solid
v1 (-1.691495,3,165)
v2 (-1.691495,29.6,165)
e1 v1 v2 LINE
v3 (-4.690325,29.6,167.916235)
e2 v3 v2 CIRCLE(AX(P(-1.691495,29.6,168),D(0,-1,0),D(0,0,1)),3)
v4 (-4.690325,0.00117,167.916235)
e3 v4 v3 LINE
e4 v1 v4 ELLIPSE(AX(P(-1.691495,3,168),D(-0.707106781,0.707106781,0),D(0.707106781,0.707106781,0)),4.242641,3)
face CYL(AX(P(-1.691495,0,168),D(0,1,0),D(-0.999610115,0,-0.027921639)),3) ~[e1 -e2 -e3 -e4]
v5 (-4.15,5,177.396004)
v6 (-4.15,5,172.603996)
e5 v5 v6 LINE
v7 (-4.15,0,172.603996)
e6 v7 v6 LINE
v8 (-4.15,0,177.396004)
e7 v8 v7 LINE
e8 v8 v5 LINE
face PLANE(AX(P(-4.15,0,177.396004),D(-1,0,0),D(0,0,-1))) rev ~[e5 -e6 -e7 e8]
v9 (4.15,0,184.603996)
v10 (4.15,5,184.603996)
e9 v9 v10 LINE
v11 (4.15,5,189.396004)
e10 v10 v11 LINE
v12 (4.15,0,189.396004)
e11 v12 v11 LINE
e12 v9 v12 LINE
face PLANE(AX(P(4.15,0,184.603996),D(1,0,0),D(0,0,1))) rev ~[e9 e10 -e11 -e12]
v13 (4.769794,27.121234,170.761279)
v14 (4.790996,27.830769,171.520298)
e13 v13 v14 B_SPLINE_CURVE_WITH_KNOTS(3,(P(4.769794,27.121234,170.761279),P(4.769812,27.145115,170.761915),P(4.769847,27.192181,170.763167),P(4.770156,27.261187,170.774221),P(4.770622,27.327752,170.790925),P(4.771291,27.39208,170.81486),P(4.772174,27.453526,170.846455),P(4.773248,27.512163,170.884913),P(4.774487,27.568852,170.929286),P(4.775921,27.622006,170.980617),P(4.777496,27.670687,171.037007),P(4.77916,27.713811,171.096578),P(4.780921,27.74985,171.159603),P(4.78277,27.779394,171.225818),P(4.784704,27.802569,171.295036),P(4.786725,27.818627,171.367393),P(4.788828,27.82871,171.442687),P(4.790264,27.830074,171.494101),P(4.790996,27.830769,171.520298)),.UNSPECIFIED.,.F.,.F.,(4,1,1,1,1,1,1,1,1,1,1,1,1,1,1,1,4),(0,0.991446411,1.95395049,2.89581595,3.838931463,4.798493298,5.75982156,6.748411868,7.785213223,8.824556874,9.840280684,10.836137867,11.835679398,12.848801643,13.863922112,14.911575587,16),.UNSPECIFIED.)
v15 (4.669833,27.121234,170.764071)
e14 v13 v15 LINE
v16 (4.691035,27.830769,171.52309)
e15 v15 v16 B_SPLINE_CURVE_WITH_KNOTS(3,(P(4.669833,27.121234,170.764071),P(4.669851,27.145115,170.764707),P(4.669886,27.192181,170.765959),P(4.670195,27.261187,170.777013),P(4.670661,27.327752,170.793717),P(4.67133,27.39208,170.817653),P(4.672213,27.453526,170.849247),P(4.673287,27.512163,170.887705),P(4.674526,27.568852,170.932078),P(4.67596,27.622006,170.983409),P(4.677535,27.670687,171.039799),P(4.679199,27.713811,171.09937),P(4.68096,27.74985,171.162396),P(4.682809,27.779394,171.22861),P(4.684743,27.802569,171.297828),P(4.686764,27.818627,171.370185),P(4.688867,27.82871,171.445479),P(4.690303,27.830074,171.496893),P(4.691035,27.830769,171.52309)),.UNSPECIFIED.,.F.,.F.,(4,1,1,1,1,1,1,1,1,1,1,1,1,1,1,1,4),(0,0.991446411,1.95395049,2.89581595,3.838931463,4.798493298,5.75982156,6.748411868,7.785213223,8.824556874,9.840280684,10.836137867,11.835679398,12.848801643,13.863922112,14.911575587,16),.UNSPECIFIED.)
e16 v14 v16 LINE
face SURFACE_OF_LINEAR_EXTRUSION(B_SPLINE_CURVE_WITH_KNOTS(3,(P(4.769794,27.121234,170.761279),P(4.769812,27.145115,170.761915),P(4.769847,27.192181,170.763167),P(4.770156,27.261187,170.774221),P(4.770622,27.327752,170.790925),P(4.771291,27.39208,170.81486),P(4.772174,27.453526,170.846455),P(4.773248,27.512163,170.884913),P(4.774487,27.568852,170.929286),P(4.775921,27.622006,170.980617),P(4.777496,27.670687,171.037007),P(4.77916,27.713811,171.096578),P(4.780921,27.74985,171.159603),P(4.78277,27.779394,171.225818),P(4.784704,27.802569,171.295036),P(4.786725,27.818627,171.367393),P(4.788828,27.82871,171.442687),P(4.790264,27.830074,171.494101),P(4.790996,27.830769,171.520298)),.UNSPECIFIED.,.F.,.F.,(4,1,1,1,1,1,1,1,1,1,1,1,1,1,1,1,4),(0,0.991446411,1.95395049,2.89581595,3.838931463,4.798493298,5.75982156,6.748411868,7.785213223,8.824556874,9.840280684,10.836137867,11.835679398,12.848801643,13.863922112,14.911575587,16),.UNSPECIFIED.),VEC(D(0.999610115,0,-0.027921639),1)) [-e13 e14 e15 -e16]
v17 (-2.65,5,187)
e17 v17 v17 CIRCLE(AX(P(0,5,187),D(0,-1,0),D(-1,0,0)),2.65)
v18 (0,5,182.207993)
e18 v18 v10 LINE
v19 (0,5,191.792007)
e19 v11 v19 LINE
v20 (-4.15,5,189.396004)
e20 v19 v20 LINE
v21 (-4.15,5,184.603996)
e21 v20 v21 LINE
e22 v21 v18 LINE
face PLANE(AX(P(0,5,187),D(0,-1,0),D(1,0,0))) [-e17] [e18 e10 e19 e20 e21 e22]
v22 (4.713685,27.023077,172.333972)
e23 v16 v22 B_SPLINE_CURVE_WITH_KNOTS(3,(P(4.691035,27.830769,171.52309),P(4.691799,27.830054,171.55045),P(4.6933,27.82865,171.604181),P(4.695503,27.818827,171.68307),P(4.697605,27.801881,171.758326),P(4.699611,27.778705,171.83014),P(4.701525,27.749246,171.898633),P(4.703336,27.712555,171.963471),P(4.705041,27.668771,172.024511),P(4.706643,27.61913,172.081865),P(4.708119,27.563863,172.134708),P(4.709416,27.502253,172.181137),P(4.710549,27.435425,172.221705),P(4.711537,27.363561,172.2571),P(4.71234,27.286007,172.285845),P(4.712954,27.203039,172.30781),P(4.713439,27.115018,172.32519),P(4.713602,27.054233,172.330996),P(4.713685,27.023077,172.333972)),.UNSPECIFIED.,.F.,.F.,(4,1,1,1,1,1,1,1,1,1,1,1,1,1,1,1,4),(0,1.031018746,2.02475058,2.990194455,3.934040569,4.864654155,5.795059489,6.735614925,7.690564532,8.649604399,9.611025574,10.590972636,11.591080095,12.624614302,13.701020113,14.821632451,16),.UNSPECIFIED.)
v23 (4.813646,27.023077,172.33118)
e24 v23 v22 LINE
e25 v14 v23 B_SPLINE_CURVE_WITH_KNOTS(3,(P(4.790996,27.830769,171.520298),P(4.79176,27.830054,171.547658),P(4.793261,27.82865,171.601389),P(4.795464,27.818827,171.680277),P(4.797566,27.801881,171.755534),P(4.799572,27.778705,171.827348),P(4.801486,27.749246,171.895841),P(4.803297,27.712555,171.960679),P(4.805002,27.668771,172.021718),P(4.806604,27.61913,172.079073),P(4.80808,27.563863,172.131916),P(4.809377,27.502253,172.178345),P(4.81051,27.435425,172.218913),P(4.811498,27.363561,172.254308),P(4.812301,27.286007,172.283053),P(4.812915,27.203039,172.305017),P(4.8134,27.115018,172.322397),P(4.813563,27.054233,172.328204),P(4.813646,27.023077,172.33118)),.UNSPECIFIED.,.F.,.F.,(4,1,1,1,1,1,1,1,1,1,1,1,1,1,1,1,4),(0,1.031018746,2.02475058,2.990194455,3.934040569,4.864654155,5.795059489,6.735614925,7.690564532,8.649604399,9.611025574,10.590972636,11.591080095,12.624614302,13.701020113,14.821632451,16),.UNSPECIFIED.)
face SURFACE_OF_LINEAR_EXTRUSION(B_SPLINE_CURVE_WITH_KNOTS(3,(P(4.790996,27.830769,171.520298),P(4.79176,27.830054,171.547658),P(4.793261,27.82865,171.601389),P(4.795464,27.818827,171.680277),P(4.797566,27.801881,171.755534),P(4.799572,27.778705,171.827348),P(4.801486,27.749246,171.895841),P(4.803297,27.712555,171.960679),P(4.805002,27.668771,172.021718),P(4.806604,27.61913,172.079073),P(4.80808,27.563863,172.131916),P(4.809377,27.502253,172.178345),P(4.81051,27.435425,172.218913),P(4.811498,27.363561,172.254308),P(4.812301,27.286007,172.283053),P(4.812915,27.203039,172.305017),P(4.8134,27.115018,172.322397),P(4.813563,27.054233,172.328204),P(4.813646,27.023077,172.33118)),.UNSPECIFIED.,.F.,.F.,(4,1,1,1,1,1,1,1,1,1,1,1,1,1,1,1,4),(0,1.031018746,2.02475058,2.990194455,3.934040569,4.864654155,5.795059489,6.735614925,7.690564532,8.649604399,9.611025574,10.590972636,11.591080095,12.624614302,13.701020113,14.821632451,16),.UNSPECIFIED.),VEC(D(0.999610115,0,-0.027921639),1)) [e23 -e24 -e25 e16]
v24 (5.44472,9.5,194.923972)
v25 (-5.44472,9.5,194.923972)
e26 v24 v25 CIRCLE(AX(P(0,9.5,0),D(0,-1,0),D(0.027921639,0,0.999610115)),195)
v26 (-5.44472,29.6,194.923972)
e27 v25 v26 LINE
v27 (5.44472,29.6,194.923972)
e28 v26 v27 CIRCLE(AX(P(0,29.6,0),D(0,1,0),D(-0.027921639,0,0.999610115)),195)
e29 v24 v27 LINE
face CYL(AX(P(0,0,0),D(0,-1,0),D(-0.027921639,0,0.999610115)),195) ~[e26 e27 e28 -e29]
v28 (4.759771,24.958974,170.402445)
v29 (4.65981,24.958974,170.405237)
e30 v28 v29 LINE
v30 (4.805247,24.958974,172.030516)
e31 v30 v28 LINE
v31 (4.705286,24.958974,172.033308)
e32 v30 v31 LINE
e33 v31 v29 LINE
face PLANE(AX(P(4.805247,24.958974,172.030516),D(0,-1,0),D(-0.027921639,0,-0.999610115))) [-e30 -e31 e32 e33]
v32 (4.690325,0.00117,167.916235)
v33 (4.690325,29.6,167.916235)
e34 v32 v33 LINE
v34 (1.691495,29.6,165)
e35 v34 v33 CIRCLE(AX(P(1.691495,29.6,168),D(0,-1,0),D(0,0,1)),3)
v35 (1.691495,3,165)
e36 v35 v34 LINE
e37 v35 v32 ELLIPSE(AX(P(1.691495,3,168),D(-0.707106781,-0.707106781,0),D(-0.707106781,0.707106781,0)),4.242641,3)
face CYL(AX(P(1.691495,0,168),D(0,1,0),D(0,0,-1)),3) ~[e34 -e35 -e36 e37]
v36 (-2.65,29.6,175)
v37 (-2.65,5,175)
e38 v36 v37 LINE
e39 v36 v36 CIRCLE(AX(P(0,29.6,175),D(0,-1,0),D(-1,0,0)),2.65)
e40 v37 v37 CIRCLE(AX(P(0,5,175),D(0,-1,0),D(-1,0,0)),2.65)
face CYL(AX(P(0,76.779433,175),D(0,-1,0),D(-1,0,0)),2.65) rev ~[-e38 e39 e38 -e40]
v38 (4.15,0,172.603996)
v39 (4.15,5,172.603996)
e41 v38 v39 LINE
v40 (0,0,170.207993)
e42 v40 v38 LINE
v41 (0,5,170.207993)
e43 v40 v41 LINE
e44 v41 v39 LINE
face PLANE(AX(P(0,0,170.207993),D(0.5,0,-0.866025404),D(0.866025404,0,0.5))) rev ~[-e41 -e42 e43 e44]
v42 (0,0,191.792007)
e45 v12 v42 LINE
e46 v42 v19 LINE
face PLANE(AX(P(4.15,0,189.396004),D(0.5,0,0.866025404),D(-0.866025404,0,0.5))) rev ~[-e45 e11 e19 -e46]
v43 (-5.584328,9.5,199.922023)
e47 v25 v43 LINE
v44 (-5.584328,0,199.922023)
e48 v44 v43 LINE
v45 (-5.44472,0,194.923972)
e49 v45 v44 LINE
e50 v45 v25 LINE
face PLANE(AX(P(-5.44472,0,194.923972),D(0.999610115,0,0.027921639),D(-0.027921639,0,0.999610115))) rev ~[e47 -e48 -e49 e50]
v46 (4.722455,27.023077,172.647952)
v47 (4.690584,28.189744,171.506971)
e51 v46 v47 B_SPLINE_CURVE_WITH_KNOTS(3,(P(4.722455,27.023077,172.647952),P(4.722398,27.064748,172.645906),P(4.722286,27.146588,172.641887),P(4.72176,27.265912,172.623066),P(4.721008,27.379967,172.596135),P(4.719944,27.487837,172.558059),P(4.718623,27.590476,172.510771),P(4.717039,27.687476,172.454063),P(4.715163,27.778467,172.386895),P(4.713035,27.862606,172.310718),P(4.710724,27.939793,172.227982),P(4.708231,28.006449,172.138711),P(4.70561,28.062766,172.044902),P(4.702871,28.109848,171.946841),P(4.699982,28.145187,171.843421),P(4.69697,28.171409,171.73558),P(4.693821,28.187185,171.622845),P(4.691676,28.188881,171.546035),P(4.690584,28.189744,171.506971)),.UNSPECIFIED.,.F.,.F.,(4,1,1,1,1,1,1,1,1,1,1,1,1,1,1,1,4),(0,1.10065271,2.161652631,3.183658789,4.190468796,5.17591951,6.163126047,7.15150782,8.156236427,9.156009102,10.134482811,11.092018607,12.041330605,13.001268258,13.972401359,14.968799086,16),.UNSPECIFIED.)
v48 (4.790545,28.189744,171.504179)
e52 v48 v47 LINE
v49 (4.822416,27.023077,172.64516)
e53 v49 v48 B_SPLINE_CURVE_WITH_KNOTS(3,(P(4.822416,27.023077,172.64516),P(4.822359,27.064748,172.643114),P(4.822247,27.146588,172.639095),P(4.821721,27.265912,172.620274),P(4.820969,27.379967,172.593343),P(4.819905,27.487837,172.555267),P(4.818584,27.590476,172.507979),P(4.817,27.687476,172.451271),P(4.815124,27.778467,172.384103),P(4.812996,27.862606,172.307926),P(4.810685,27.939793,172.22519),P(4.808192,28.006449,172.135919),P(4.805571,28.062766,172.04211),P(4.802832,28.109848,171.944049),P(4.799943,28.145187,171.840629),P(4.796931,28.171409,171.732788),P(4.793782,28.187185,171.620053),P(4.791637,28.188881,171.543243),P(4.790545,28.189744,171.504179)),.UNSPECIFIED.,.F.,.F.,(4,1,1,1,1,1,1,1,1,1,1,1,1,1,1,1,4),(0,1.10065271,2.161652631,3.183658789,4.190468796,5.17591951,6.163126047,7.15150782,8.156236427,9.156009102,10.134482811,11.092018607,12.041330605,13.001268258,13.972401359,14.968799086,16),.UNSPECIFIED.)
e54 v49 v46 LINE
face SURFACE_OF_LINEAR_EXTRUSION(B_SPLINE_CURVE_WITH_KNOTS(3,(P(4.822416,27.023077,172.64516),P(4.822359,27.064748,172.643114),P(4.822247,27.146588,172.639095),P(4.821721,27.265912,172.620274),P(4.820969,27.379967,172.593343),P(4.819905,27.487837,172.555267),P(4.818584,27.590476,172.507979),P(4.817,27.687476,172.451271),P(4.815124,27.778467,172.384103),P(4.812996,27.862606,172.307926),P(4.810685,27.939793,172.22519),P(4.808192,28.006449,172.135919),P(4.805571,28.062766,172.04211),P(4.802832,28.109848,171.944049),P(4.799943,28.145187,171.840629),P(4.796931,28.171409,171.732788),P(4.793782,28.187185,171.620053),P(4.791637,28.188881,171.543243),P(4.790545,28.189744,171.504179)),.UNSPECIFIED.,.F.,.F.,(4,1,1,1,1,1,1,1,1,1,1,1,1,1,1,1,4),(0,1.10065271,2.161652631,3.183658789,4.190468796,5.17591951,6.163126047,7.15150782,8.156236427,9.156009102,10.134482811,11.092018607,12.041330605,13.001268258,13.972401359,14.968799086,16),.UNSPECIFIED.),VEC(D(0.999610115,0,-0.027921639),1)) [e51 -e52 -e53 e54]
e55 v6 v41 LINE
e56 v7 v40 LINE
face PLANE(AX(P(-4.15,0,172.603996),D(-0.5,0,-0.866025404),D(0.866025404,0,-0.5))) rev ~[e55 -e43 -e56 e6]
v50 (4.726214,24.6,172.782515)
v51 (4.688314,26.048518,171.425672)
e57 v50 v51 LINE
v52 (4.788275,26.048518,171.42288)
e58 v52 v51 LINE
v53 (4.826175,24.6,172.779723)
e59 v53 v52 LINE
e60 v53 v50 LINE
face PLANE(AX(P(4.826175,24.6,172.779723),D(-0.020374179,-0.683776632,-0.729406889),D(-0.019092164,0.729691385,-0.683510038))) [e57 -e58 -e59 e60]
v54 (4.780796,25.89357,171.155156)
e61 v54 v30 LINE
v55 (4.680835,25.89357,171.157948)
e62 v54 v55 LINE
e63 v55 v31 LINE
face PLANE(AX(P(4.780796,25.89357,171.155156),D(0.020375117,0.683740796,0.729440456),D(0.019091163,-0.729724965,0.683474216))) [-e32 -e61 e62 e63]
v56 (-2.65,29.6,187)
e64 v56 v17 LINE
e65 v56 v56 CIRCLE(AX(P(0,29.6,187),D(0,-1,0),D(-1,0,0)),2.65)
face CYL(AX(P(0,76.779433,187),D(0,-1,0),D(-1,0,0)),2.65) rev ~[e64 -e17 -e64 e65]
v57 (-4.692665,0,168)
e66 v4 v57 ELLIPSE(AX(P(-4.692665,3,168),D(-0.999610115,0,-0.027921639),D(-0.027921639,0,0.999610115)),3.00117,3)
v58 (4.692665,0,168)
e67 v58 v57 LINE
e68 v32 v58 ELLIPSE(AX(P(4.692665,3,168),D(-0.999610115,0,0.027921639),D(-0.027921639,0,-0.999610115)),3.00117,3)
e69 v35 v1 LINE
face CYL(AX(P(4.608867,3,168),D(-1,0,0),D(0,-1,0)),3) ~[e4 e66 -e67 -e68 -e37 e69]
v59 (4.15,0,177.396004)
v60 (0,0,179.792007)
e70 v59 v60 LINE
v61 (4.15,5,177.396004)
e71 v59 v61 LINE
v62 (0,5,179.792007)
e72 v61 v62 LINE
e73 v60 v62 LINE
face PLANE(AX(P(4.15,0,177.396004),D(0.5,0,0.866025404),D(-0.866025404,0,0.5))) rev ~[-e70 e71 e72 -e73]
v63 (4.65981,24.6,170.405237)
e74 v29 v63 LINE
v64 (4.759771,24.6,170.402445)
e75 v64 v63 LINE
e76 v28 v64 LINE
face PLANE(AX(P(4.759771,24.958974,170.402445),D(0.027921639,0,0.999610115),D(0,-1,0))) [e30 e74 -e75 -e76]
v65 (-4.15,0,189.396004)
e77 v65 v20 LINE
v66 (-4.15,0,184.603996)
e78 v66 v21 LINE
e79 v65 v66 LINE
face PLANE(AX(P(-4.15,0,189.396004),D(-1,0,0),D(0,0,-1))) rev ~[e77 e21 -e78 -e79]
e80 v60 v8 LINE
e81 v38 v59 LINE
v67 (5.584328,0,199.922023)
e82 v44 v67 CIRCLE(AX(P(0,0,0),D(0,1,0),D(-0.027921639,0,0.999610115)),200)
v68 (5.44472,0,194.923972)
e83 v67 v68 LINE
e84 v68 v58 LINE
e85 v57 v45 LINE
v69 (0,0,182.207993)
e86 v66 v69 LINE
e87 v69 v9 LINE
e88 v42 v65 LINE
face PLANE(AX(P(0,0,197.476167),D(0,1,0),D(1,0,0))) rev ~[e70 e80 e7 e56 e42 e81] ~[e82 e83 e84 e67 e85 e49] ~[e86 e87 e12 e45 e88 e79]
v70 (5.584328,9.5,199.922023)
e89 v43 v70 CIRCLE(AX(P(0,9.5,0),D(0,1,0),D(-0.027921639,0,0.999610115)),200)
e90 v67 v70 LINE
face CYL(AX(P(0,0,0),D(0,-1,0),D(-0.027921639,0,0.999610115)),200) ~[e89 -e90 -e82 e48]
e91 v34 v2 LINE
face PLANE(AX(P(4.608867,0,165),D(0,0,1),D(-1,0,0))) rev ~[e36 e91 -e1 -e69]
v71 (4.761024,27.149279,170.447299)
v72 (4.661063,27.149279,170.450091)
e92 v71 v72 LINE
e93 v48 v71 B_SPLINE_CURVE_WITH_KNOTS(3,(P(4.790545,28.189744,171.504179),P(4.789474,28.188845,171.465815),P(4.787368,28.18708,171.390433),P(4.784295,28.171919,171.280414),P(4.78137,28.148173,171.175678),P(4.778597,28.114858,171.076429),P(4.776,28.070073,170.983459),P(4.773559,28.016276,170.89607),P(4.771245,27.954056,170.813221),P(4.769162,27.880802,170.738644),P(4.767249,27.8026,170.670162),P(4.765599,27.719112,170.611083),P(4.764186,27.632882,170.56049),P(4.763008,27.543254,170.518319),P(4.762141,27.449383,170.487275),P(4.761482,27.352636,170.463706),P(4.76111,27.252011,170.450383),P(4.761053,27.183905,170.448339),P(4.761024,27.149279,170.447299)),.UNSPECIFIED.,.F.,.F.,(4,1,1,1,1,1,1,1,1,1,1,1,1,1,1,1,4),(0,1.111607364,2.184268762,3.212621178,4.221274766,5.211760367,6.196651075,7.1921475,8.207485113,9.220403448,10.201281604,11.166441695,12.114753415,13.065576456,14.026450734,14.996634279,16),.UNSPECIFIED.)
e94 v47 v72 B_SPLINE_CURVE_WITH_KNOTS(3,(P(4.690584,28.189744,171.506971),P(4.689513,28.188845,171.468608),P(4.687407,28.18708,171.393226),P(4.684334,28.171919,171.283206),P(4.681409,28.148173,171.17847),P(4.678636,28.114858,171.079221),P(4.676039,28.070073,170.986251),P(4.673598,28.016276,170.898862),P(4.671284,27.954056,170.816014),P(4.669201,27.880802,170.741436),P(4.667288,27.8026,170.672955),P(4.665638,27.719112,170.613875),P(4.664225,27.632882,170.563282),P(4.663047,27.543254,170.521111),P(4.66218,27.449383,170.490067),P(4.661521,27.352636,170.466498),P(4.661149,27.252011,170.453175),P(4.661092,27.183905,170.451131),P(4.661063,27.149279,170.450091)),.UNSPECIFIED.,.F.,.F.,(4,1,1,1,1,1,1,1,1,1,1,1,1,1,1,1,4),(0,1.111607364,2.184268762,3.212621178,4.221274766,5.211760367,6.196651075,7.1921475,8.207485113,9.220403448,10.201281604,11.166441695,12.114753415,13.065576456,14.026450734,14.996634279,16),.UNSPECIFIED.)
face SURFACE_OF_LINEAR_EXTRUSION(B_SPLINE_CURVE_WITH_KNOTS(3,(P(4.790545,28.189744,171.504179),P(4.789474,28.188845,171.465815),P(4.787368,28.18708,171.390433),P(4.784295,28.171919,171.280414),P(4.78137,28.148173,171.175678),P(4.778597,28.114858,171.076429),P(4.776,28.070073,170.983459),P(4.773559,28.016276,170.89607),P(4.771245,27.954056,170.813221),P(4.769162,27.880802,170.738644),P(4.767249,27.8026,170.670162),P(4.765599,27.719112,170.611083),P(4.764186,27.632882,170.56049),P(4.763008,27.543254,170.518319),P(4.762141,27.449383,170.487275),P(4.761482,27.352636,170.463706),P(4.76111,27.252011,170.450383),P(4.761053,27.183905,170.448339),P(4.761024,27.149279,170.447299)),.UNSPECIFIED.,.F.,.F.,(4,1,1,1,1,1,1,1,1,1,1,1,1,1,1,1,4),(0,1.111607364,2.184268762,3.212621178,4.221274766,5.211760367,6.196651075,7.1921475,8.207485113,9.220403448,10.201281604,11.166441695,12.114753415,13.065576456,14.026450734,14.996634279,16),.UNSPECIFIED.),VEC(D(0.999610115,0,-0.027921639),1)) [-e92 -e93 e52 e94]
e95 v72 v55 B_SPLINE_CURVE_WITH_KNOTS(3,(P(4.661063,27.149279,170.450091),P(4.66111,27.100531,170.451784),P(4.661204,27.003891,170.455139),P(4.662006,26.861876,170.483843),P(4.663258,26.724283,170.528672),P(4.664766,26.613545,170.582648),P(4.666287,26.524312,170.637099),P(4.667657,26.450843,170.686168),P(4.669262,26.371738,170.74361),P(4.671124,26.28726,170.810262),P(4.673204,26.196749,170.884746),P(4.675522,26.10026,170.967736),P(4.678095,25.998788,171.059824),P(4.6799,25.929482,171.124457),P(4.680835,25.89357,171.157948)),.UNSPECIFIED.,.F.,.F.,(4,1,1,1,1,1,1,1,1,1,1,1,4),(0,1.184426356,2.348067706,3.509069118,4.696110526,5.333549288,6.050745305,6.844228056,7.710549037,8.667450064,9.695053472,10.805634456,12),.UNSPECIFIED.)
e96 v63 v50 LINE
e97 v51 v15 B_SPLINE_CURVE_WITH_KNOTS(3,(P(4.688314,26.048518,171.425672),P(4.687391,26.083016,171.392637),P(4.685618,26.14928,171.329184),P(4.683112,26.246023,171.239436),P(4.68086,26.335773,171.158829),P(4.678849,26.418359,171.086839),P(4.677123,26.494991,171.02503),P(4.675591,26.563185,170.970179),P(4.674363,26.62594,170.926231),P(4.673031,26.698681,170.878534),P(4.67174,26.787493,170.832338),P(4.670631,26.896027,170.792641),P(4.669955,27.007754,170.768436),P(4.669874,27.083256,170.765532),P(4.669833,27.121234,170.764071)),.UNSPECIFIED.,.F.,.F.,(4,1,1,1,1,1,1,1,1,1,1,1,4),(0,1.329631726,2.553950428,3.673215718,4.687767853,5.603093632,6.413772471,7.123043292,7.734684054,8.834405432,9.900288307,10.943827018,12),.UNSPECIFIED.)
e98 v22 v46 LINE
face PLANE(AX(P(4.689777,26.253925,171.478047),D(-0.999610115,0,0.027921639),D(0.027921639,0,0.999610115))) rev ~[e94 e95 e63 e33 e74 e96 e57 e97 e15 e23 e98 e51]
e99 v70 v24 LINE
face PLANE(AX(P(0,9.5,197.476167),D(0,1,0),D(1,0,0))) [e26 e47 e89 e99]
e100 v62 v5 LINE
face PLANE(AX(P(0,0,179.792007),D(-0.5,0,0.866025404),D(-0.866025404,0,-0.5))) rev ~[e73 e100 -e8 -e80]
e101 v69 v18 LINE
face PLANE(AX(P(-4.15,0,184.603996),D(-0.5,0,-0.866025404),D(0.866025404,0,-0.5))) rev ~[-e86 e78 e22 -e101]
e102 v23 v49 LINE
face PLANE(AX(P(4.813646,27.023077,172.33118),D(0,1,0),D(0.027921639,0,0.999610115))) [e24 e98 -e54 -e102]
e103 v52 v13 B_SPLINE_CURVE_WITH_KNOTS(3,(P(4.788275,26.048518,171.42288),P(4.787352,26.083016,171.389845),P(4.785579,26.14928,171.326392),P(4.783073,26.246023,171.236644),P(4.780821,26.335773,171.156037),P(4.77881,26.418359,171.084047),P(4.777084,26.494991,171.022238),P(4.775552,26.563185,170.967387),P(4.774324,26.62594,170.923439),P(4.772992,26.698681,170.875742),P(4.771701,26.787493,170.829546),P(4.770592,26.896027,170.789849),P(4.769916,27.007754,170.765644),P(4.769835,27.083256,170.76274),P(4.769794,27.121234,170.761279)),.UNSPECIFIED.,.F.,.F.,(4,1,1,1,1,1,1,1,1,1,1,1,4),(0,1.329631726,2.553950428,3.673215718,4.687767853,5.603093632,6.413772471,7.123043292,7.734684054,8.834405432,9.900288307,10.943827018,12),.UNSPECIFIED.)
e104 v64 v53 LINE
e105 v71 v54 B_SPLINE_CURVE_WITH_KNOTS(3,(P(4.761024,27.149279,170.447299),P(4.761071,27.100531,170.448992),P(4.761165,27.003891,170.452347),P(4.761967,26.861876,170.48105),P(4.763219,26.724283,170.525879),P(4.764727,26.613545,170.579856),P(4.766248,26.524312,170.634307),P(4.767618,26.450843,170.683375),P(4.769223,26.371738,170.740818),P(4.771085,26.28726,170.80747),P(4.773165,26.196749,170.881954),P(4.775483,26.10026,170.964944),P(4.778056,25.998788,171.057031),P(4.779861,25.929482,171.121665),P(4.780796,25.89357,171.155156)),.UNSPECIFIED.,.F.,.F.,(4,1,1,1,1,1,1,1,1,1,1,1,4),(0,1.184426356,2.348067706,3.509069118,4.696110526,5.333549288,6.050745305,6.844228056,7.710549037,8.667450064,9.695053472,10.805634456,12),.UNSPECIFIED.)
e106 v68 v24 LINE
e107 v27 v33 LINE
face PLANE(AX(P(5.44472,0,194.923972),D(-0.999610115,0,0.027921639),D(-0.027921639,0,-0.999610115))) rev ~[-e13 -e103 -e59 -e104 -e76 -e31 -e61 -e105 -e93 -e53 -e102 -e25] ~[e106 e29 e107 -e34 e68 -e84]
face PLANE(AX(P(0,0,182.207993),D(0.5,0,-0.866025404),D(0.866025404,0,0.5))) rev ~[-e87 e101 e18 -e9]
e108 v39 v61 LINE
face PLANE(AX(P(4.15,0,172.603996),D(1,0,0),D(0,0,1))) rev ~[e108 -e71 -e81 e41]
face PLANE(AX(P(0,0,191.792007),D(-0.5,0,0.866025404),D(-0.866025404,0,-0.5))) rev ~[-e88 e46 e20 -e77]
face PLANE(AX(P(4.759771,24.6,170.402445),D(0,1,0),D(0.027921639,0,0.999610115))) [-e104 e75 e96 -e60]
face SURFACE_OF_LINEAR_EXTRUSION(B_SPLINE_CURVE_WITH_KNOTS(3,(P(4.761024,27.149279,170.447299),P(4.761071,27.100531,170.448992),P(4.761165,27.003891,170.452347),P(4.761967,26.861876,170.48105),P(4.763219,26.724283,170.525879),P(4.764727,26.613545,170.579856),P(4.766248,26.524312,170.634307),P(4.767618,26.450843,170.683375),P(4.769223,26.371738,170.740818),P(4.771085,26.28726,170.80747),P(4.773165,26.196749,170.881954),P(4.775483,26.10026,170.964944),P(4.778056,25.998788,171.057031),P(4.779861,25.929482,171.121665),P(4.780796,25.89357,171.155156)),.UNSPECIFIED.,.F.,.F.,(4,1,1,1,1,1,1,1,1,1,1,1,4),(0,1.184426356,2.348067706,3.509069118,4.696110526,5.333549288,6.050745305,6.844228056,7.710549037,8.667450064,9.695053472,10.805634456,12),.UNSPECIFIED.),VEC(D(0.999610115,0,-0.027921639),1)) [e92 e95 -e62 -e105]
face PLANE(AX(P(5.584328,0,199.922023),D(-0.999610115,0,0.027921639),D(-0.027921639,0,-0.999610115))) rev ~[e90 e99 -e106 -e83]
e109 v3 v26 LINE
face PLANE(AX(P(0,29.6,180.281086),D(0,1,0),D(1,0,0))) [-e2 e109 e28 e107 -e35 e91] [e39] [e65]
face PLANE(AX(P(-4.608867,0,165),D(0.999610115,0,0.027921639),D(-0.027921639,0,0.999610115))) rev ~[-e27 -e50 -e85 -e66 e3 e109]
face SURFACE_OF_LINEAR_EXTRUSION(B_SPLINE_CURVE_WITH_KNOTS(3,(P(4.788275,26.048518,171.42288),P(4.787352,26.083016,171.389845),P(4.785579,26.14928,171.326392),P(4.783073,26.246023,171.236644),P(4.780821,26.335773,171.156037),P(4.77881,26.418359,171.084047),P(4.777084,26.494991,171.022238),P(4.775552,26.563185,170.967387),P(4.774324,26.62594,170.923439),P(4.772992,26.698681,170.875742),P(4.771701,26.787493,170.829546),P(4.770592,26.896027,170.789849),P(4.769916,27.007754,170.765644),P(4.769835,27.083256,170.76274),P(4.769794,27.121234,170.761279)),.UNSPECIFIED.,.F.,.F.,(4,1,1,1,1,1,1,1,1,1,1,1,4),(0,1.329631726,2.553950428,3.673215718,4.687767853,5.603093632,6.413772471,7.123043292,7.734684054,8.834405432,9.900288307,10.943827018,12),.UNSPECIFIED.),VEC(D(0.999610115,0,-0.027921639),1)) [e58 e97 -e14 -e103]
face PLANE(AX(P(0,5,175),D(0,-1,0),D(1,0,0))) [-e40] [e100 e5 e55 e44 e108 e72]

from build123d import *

# Parameters (mm, degrees)
EXTRUDE_590_DEPTH   = 29.6
EXTRUDE_638_DEPTH   = 9.5
FILLET_1_R          = 3
HOLE_WIZARD_M5_1_D  = 5.3
CUT_EXTRUDE_1_DEPTH = 5
CUT_EXTRUDE_2_DEPTH = 0.1


with BuildPart() as part:
    # 草图1 → Extrude 590 (new body)
    with BuildSketch(Plane(origin=(0, 0, 0), x_dir=(1, 0, 0), z_dir=(0, 1, 0))):
        with BuildLine():
            Line((4.608867317, -165), (-4.608867317, -165))
            Line((-4.608867317, -165), (-5.444719551, -194.923972433))
            ThreePointArc((-5.444719551, -194.923972433), (0, -195), (5.444719551, -194.923972433))
            Line((5.444719551, -194.923972433), (4.608867317, -165))
        make_face()
    extrude(amount=EXTRUDE_590_DEPTH)

    # 草图1<3> → Extrude 638 (add)
    with BuildSketch(Plane(origin=(0, 0, 0), x_dir=(1, 0, 0), z_dir=(0, 1, 0))):
        with BuildLine():
            ThreePointArc((5.444719551, -194.923972433), (0, -195), (-5.444719551, -194.923972433))
            Line((-5.444719551, -194.923972433), (-5.584327745, -199.922023008))
            ThreePointArc((-5.584327745, -199.922023008), (0, -200), (5.584327745, -199.922023008))
            Line((5.584327745, -199.922023008), (5.444719551, -194.923972433))
        make_face()
    extrude(amount=EXTRUDE_638_DEPTH)

    # 圆角1
    fillet_1_edges = [part.edges().sort_by_distance(p)[0] for p in [
        (0, 0, 165),
        (-4.608867317, 14.8, 165),
        (4.608867317, 14.8, 165),
    ]]
    fillet(fillet_1_edges, radius=FILLET_1_R)

    # M5 间隙孔1 (through all)
    with Locations(Plane(origin=(0, 29.6, 0), x_dir=(1, 0, 0), z_dir=(0, 1, 0))):
        with Locations((0, -187), (0, -175)):
            Hole(HOLE_WIZARD_M5_1_D / 2)

    # 草图6 → 切除-拉伸1 (cut)
    with BuildSketch(Plane.XZ):
        Polygon((0, 179.792007234), (-4.15, 177.396003617), (-4.15, 172.603996383), (0, 170.207992766), (4.15, 172.603996383), (4.15, 177.396003617), align=None)
        Polygon((0, 191.792007234), (-4.15, 189.396003617), (-4.15, 184.603996383), (0, 182.207992766), (4.15, 184.603996383), (4.15, 189.396003617), align=None)
    extrude(amount=-CUT_EXTRUDE_1_DEPTH, mode=Mode.SUBTRACT)

    # 草图7 → 切除-拉伸2 (cut)
    with BuildSketch(Plane(origin=(0, 0, 0), x_dir=(-0.02792163872356911, 0, -0.9996101150403545), z_dir=(0.9996101150403545, 0, -0.02792163872356911))):
        with BuildLine():
            Line((-172.3983953, 27.023076923), (-172.712497864, 27.023076923))
            add(Edge.make_bspline(
                [(-172.712497864, 27.023076923), (-172.710450711, 27.064747811), (-172.706430157, 27.146588325), (-172.687601868, 27.265912232), (-172.660660991, 27.379967031), (-172.622569537, 27.487836945), (-172.575263259, 27.590475752), (-172.518533231, 27.687475767), (-172.451339381, 27.778466956), (-172.375132647, 27.862605799), (-172.292364008, 27.93979337), (-172.203058068, 28.006448613), (-172.109213041, 28.062766284), (-172.011113642, 28.109847526), (-171.907653079, 28.145187372), (-171.799770221, 28.171409012), (-171.686991084, 28.187185357), (-171.610151062, 28.188881143), (-171.571071582, 28.18974359)],
                knots=[0, 0, 0, 0, 1.10065271, 2.161652631, 3.183658789, 4.190468796, 5.17591951, 6.163126047, 7.15150782, 8.156236427, 9.156009102, 10.134482811, 11.092018607, 12.041330605, 13.001268258, 13.972401359, 14.968799086, 16, 16, 16, 16], degree=3))
            add(Edge.make_bspline(
                [(-171.571071582, 28.18974359), (-171.532693508, 28.188845133), (-171.457281963, 28.187079698), (-171.347219949, 28.171918669), (-171.242442654, 28.148173078), (-171.143154888, 28.114857661), (-171.050148823, 28.070073234), (-170.962725779, 28.016275695), (-170.879844968, 27.954055864), (-170.805238184, 27.88080205), (-170.736730105, 27.802599666), (-170.67762785, 27.719111762), (-170.627014686, 27.632882477), (-170.584827007, 27.543254275), (-170.553770868, 27.449383247), (-170.53019266, 27.352636044), (-170.516865246, 27.252011233), (-170.514819822, 27.183904677), (-170.513779915, 27.149278846)],
                knots=[0, 0, 0, 0, 1.111607364, 2.184268762, 3.212621178, 4.221274766, 5.211760367, 6.196651075, 7.1921475, 8.207485113, 9.220403448, 10.201281604, 11.166441695, 12.114753415, 13.065576456, 14.026450734, 14.996634279, 16, 16, 16, 16], degree=3))
            add(Edge.make_bspline(
                [(-170.513779915, 27.149278846), (-170.515473178, 27.100531012), (-170.51882999, 27.003890798), (-170.547544366, 26.861875935), (-170.592390877, 26.724282516), (-170.646388234, 26.613545214), (-170.700860678, 26.52431172), (-170.749948186, 26.450843015), (-170.807412997, 26.371737547), (-170.874091495, 26.28726021), (-170.948604367, 26.196749304), (-171.03162653, 26.100259509), (-171.123750012, 25.998787739), (-171.188408513, 25.929482138), (-171.221912928, 25.893569712)],
                knots=[0, 0, 0, 0, 1.184426356, 2.348067706, 3.509069118, 4.696110526, 5.333549288, 6.050745305, 6.844228056, 7.710549037, 8.667450064, 9.695053472, 10.805634456, 12, 12, 12, 12], degree=3))
            Line((-171.221912928, 25.893569712), (-172.09761405, 24.958974359))
            Line((-172.09761405, 24.958974359), (-170.46890812, 24.958974359))
            Line((-170.46890812, 24.958974359), (-170.46890812, 24.6))
            Line((-170.46890812, 24.6), (-172.847113249, 24.6))
            Line((-172.847113249, 24.6), (-171.489741454, 26.048517628))
            add(Edge.make_bspline(
                [(-171.489741454, 26.048517628), (-171.456693567, 26.083015935), (-171.39321534, 26.149280121), (-171.303432763, 26.246023081), (-171.222793775, 26.335772622), (-171.150776382, 26.418359171), (-171.088942877, 26.494990738), (-171.034070645, 26.563185442), (-170.990105054, 26.625939892), (-170.942389658, 26.698680506), (-170.896175677, 26.787492823), (-170.856463321, 26.896026513), (-170.832248472, 27.007753765), (-170.829343637, 27.083255802), (-170.827882479, 27.121233974)],
                knots=[0, 0, 0, 0, 1.329631726, 2.553950428, 3.673215718, 4.687767853, 5.603093632, 6.413772471, 7.123043292, 7.734684054, 8.834405432, 9.900288307, 10.943827018, 12, 12, 12, 12], degree=3))
            add(Edge.make_bspline(
                [(-170.827882479, 27.121233974), (-170.828518222, 27.145115373), (-170.829771148, 27.192181023), (-170.840828845, 27.261186782), (-170.857539351, 27.327751596), (-170.881484609, 27.392080215), (-170.913091349, 27.453525867), (-170.951564729, 27.512163347), (-170.995954793, 27.568852313), (-171.047306062, 27.622005611), (-171.103717582, 27.670686816), (-171.163311832, 27.713810902), (-171.226361936, 27.749850012), (-171.292602058, 27.779393509), (-171.361847527, 27.802568891), (-171.434232273, 27.81862747), (-171.509556289, 27.828709954), (-171.560989784, 27.830074126), (-171.587197383, 27.830769231)],
                knots=[0, 0, 0, 0, 0.991446411, 1.95395049, 2.89581595, 3.838931463, 4.798493298, 5.75982156, 6.748411868, 7.785213223, 8.824556874, 9.840280684, 10.836137867, 11.835679398, 12.848801643, 13.863922112, 14.911575587, 16, 16, 16, 16], degree=3))
            add(Edge.make_bspline(
                [(-171.587197383, 27.830769231), (-171.614568216, 27.830054199), (-171.668320012, 27.828649993), (-171.747239045, 27.818827329), (-171.822524823, 27.801881489), (-171.894366726, 27.778704814), (-171.962886312, 27.749246266), (-172.027750356, 27.712554521), (-172.088813245, 27.668771028), (-172.146189768, 27.619130471), (-172.199053747, 27.56386287), (-172.245500623, 27.502252907), (-172.286084637, 27.435425492), (-172.321493871, 27.363560941), (-172.350249561, 27.286007161), (-172.372222711, 27.203039456), (-172.389609558, 27.115018075), (-172.395418079, 27.05423299), (-172.3983953, 27.023076923)],
                knots=[0, 0, 0, 0, 1.031018746, 2.02475058, 2.990194455, 3.934040569, 4.864654155, 5.795059489, 6.735614925, 7.690564532, 8.649604399, 9.611025574, 10.590972636, 11.591080095, 12.624614302, 13.701020113, 14.821632451, 16, 16, 16, 16], degree=3))
        make_face()
    extrude(amount=-CUT_EXTRUDE_2_DEPTH, mode=Mode.SUBTRACT)


solid = part.part
